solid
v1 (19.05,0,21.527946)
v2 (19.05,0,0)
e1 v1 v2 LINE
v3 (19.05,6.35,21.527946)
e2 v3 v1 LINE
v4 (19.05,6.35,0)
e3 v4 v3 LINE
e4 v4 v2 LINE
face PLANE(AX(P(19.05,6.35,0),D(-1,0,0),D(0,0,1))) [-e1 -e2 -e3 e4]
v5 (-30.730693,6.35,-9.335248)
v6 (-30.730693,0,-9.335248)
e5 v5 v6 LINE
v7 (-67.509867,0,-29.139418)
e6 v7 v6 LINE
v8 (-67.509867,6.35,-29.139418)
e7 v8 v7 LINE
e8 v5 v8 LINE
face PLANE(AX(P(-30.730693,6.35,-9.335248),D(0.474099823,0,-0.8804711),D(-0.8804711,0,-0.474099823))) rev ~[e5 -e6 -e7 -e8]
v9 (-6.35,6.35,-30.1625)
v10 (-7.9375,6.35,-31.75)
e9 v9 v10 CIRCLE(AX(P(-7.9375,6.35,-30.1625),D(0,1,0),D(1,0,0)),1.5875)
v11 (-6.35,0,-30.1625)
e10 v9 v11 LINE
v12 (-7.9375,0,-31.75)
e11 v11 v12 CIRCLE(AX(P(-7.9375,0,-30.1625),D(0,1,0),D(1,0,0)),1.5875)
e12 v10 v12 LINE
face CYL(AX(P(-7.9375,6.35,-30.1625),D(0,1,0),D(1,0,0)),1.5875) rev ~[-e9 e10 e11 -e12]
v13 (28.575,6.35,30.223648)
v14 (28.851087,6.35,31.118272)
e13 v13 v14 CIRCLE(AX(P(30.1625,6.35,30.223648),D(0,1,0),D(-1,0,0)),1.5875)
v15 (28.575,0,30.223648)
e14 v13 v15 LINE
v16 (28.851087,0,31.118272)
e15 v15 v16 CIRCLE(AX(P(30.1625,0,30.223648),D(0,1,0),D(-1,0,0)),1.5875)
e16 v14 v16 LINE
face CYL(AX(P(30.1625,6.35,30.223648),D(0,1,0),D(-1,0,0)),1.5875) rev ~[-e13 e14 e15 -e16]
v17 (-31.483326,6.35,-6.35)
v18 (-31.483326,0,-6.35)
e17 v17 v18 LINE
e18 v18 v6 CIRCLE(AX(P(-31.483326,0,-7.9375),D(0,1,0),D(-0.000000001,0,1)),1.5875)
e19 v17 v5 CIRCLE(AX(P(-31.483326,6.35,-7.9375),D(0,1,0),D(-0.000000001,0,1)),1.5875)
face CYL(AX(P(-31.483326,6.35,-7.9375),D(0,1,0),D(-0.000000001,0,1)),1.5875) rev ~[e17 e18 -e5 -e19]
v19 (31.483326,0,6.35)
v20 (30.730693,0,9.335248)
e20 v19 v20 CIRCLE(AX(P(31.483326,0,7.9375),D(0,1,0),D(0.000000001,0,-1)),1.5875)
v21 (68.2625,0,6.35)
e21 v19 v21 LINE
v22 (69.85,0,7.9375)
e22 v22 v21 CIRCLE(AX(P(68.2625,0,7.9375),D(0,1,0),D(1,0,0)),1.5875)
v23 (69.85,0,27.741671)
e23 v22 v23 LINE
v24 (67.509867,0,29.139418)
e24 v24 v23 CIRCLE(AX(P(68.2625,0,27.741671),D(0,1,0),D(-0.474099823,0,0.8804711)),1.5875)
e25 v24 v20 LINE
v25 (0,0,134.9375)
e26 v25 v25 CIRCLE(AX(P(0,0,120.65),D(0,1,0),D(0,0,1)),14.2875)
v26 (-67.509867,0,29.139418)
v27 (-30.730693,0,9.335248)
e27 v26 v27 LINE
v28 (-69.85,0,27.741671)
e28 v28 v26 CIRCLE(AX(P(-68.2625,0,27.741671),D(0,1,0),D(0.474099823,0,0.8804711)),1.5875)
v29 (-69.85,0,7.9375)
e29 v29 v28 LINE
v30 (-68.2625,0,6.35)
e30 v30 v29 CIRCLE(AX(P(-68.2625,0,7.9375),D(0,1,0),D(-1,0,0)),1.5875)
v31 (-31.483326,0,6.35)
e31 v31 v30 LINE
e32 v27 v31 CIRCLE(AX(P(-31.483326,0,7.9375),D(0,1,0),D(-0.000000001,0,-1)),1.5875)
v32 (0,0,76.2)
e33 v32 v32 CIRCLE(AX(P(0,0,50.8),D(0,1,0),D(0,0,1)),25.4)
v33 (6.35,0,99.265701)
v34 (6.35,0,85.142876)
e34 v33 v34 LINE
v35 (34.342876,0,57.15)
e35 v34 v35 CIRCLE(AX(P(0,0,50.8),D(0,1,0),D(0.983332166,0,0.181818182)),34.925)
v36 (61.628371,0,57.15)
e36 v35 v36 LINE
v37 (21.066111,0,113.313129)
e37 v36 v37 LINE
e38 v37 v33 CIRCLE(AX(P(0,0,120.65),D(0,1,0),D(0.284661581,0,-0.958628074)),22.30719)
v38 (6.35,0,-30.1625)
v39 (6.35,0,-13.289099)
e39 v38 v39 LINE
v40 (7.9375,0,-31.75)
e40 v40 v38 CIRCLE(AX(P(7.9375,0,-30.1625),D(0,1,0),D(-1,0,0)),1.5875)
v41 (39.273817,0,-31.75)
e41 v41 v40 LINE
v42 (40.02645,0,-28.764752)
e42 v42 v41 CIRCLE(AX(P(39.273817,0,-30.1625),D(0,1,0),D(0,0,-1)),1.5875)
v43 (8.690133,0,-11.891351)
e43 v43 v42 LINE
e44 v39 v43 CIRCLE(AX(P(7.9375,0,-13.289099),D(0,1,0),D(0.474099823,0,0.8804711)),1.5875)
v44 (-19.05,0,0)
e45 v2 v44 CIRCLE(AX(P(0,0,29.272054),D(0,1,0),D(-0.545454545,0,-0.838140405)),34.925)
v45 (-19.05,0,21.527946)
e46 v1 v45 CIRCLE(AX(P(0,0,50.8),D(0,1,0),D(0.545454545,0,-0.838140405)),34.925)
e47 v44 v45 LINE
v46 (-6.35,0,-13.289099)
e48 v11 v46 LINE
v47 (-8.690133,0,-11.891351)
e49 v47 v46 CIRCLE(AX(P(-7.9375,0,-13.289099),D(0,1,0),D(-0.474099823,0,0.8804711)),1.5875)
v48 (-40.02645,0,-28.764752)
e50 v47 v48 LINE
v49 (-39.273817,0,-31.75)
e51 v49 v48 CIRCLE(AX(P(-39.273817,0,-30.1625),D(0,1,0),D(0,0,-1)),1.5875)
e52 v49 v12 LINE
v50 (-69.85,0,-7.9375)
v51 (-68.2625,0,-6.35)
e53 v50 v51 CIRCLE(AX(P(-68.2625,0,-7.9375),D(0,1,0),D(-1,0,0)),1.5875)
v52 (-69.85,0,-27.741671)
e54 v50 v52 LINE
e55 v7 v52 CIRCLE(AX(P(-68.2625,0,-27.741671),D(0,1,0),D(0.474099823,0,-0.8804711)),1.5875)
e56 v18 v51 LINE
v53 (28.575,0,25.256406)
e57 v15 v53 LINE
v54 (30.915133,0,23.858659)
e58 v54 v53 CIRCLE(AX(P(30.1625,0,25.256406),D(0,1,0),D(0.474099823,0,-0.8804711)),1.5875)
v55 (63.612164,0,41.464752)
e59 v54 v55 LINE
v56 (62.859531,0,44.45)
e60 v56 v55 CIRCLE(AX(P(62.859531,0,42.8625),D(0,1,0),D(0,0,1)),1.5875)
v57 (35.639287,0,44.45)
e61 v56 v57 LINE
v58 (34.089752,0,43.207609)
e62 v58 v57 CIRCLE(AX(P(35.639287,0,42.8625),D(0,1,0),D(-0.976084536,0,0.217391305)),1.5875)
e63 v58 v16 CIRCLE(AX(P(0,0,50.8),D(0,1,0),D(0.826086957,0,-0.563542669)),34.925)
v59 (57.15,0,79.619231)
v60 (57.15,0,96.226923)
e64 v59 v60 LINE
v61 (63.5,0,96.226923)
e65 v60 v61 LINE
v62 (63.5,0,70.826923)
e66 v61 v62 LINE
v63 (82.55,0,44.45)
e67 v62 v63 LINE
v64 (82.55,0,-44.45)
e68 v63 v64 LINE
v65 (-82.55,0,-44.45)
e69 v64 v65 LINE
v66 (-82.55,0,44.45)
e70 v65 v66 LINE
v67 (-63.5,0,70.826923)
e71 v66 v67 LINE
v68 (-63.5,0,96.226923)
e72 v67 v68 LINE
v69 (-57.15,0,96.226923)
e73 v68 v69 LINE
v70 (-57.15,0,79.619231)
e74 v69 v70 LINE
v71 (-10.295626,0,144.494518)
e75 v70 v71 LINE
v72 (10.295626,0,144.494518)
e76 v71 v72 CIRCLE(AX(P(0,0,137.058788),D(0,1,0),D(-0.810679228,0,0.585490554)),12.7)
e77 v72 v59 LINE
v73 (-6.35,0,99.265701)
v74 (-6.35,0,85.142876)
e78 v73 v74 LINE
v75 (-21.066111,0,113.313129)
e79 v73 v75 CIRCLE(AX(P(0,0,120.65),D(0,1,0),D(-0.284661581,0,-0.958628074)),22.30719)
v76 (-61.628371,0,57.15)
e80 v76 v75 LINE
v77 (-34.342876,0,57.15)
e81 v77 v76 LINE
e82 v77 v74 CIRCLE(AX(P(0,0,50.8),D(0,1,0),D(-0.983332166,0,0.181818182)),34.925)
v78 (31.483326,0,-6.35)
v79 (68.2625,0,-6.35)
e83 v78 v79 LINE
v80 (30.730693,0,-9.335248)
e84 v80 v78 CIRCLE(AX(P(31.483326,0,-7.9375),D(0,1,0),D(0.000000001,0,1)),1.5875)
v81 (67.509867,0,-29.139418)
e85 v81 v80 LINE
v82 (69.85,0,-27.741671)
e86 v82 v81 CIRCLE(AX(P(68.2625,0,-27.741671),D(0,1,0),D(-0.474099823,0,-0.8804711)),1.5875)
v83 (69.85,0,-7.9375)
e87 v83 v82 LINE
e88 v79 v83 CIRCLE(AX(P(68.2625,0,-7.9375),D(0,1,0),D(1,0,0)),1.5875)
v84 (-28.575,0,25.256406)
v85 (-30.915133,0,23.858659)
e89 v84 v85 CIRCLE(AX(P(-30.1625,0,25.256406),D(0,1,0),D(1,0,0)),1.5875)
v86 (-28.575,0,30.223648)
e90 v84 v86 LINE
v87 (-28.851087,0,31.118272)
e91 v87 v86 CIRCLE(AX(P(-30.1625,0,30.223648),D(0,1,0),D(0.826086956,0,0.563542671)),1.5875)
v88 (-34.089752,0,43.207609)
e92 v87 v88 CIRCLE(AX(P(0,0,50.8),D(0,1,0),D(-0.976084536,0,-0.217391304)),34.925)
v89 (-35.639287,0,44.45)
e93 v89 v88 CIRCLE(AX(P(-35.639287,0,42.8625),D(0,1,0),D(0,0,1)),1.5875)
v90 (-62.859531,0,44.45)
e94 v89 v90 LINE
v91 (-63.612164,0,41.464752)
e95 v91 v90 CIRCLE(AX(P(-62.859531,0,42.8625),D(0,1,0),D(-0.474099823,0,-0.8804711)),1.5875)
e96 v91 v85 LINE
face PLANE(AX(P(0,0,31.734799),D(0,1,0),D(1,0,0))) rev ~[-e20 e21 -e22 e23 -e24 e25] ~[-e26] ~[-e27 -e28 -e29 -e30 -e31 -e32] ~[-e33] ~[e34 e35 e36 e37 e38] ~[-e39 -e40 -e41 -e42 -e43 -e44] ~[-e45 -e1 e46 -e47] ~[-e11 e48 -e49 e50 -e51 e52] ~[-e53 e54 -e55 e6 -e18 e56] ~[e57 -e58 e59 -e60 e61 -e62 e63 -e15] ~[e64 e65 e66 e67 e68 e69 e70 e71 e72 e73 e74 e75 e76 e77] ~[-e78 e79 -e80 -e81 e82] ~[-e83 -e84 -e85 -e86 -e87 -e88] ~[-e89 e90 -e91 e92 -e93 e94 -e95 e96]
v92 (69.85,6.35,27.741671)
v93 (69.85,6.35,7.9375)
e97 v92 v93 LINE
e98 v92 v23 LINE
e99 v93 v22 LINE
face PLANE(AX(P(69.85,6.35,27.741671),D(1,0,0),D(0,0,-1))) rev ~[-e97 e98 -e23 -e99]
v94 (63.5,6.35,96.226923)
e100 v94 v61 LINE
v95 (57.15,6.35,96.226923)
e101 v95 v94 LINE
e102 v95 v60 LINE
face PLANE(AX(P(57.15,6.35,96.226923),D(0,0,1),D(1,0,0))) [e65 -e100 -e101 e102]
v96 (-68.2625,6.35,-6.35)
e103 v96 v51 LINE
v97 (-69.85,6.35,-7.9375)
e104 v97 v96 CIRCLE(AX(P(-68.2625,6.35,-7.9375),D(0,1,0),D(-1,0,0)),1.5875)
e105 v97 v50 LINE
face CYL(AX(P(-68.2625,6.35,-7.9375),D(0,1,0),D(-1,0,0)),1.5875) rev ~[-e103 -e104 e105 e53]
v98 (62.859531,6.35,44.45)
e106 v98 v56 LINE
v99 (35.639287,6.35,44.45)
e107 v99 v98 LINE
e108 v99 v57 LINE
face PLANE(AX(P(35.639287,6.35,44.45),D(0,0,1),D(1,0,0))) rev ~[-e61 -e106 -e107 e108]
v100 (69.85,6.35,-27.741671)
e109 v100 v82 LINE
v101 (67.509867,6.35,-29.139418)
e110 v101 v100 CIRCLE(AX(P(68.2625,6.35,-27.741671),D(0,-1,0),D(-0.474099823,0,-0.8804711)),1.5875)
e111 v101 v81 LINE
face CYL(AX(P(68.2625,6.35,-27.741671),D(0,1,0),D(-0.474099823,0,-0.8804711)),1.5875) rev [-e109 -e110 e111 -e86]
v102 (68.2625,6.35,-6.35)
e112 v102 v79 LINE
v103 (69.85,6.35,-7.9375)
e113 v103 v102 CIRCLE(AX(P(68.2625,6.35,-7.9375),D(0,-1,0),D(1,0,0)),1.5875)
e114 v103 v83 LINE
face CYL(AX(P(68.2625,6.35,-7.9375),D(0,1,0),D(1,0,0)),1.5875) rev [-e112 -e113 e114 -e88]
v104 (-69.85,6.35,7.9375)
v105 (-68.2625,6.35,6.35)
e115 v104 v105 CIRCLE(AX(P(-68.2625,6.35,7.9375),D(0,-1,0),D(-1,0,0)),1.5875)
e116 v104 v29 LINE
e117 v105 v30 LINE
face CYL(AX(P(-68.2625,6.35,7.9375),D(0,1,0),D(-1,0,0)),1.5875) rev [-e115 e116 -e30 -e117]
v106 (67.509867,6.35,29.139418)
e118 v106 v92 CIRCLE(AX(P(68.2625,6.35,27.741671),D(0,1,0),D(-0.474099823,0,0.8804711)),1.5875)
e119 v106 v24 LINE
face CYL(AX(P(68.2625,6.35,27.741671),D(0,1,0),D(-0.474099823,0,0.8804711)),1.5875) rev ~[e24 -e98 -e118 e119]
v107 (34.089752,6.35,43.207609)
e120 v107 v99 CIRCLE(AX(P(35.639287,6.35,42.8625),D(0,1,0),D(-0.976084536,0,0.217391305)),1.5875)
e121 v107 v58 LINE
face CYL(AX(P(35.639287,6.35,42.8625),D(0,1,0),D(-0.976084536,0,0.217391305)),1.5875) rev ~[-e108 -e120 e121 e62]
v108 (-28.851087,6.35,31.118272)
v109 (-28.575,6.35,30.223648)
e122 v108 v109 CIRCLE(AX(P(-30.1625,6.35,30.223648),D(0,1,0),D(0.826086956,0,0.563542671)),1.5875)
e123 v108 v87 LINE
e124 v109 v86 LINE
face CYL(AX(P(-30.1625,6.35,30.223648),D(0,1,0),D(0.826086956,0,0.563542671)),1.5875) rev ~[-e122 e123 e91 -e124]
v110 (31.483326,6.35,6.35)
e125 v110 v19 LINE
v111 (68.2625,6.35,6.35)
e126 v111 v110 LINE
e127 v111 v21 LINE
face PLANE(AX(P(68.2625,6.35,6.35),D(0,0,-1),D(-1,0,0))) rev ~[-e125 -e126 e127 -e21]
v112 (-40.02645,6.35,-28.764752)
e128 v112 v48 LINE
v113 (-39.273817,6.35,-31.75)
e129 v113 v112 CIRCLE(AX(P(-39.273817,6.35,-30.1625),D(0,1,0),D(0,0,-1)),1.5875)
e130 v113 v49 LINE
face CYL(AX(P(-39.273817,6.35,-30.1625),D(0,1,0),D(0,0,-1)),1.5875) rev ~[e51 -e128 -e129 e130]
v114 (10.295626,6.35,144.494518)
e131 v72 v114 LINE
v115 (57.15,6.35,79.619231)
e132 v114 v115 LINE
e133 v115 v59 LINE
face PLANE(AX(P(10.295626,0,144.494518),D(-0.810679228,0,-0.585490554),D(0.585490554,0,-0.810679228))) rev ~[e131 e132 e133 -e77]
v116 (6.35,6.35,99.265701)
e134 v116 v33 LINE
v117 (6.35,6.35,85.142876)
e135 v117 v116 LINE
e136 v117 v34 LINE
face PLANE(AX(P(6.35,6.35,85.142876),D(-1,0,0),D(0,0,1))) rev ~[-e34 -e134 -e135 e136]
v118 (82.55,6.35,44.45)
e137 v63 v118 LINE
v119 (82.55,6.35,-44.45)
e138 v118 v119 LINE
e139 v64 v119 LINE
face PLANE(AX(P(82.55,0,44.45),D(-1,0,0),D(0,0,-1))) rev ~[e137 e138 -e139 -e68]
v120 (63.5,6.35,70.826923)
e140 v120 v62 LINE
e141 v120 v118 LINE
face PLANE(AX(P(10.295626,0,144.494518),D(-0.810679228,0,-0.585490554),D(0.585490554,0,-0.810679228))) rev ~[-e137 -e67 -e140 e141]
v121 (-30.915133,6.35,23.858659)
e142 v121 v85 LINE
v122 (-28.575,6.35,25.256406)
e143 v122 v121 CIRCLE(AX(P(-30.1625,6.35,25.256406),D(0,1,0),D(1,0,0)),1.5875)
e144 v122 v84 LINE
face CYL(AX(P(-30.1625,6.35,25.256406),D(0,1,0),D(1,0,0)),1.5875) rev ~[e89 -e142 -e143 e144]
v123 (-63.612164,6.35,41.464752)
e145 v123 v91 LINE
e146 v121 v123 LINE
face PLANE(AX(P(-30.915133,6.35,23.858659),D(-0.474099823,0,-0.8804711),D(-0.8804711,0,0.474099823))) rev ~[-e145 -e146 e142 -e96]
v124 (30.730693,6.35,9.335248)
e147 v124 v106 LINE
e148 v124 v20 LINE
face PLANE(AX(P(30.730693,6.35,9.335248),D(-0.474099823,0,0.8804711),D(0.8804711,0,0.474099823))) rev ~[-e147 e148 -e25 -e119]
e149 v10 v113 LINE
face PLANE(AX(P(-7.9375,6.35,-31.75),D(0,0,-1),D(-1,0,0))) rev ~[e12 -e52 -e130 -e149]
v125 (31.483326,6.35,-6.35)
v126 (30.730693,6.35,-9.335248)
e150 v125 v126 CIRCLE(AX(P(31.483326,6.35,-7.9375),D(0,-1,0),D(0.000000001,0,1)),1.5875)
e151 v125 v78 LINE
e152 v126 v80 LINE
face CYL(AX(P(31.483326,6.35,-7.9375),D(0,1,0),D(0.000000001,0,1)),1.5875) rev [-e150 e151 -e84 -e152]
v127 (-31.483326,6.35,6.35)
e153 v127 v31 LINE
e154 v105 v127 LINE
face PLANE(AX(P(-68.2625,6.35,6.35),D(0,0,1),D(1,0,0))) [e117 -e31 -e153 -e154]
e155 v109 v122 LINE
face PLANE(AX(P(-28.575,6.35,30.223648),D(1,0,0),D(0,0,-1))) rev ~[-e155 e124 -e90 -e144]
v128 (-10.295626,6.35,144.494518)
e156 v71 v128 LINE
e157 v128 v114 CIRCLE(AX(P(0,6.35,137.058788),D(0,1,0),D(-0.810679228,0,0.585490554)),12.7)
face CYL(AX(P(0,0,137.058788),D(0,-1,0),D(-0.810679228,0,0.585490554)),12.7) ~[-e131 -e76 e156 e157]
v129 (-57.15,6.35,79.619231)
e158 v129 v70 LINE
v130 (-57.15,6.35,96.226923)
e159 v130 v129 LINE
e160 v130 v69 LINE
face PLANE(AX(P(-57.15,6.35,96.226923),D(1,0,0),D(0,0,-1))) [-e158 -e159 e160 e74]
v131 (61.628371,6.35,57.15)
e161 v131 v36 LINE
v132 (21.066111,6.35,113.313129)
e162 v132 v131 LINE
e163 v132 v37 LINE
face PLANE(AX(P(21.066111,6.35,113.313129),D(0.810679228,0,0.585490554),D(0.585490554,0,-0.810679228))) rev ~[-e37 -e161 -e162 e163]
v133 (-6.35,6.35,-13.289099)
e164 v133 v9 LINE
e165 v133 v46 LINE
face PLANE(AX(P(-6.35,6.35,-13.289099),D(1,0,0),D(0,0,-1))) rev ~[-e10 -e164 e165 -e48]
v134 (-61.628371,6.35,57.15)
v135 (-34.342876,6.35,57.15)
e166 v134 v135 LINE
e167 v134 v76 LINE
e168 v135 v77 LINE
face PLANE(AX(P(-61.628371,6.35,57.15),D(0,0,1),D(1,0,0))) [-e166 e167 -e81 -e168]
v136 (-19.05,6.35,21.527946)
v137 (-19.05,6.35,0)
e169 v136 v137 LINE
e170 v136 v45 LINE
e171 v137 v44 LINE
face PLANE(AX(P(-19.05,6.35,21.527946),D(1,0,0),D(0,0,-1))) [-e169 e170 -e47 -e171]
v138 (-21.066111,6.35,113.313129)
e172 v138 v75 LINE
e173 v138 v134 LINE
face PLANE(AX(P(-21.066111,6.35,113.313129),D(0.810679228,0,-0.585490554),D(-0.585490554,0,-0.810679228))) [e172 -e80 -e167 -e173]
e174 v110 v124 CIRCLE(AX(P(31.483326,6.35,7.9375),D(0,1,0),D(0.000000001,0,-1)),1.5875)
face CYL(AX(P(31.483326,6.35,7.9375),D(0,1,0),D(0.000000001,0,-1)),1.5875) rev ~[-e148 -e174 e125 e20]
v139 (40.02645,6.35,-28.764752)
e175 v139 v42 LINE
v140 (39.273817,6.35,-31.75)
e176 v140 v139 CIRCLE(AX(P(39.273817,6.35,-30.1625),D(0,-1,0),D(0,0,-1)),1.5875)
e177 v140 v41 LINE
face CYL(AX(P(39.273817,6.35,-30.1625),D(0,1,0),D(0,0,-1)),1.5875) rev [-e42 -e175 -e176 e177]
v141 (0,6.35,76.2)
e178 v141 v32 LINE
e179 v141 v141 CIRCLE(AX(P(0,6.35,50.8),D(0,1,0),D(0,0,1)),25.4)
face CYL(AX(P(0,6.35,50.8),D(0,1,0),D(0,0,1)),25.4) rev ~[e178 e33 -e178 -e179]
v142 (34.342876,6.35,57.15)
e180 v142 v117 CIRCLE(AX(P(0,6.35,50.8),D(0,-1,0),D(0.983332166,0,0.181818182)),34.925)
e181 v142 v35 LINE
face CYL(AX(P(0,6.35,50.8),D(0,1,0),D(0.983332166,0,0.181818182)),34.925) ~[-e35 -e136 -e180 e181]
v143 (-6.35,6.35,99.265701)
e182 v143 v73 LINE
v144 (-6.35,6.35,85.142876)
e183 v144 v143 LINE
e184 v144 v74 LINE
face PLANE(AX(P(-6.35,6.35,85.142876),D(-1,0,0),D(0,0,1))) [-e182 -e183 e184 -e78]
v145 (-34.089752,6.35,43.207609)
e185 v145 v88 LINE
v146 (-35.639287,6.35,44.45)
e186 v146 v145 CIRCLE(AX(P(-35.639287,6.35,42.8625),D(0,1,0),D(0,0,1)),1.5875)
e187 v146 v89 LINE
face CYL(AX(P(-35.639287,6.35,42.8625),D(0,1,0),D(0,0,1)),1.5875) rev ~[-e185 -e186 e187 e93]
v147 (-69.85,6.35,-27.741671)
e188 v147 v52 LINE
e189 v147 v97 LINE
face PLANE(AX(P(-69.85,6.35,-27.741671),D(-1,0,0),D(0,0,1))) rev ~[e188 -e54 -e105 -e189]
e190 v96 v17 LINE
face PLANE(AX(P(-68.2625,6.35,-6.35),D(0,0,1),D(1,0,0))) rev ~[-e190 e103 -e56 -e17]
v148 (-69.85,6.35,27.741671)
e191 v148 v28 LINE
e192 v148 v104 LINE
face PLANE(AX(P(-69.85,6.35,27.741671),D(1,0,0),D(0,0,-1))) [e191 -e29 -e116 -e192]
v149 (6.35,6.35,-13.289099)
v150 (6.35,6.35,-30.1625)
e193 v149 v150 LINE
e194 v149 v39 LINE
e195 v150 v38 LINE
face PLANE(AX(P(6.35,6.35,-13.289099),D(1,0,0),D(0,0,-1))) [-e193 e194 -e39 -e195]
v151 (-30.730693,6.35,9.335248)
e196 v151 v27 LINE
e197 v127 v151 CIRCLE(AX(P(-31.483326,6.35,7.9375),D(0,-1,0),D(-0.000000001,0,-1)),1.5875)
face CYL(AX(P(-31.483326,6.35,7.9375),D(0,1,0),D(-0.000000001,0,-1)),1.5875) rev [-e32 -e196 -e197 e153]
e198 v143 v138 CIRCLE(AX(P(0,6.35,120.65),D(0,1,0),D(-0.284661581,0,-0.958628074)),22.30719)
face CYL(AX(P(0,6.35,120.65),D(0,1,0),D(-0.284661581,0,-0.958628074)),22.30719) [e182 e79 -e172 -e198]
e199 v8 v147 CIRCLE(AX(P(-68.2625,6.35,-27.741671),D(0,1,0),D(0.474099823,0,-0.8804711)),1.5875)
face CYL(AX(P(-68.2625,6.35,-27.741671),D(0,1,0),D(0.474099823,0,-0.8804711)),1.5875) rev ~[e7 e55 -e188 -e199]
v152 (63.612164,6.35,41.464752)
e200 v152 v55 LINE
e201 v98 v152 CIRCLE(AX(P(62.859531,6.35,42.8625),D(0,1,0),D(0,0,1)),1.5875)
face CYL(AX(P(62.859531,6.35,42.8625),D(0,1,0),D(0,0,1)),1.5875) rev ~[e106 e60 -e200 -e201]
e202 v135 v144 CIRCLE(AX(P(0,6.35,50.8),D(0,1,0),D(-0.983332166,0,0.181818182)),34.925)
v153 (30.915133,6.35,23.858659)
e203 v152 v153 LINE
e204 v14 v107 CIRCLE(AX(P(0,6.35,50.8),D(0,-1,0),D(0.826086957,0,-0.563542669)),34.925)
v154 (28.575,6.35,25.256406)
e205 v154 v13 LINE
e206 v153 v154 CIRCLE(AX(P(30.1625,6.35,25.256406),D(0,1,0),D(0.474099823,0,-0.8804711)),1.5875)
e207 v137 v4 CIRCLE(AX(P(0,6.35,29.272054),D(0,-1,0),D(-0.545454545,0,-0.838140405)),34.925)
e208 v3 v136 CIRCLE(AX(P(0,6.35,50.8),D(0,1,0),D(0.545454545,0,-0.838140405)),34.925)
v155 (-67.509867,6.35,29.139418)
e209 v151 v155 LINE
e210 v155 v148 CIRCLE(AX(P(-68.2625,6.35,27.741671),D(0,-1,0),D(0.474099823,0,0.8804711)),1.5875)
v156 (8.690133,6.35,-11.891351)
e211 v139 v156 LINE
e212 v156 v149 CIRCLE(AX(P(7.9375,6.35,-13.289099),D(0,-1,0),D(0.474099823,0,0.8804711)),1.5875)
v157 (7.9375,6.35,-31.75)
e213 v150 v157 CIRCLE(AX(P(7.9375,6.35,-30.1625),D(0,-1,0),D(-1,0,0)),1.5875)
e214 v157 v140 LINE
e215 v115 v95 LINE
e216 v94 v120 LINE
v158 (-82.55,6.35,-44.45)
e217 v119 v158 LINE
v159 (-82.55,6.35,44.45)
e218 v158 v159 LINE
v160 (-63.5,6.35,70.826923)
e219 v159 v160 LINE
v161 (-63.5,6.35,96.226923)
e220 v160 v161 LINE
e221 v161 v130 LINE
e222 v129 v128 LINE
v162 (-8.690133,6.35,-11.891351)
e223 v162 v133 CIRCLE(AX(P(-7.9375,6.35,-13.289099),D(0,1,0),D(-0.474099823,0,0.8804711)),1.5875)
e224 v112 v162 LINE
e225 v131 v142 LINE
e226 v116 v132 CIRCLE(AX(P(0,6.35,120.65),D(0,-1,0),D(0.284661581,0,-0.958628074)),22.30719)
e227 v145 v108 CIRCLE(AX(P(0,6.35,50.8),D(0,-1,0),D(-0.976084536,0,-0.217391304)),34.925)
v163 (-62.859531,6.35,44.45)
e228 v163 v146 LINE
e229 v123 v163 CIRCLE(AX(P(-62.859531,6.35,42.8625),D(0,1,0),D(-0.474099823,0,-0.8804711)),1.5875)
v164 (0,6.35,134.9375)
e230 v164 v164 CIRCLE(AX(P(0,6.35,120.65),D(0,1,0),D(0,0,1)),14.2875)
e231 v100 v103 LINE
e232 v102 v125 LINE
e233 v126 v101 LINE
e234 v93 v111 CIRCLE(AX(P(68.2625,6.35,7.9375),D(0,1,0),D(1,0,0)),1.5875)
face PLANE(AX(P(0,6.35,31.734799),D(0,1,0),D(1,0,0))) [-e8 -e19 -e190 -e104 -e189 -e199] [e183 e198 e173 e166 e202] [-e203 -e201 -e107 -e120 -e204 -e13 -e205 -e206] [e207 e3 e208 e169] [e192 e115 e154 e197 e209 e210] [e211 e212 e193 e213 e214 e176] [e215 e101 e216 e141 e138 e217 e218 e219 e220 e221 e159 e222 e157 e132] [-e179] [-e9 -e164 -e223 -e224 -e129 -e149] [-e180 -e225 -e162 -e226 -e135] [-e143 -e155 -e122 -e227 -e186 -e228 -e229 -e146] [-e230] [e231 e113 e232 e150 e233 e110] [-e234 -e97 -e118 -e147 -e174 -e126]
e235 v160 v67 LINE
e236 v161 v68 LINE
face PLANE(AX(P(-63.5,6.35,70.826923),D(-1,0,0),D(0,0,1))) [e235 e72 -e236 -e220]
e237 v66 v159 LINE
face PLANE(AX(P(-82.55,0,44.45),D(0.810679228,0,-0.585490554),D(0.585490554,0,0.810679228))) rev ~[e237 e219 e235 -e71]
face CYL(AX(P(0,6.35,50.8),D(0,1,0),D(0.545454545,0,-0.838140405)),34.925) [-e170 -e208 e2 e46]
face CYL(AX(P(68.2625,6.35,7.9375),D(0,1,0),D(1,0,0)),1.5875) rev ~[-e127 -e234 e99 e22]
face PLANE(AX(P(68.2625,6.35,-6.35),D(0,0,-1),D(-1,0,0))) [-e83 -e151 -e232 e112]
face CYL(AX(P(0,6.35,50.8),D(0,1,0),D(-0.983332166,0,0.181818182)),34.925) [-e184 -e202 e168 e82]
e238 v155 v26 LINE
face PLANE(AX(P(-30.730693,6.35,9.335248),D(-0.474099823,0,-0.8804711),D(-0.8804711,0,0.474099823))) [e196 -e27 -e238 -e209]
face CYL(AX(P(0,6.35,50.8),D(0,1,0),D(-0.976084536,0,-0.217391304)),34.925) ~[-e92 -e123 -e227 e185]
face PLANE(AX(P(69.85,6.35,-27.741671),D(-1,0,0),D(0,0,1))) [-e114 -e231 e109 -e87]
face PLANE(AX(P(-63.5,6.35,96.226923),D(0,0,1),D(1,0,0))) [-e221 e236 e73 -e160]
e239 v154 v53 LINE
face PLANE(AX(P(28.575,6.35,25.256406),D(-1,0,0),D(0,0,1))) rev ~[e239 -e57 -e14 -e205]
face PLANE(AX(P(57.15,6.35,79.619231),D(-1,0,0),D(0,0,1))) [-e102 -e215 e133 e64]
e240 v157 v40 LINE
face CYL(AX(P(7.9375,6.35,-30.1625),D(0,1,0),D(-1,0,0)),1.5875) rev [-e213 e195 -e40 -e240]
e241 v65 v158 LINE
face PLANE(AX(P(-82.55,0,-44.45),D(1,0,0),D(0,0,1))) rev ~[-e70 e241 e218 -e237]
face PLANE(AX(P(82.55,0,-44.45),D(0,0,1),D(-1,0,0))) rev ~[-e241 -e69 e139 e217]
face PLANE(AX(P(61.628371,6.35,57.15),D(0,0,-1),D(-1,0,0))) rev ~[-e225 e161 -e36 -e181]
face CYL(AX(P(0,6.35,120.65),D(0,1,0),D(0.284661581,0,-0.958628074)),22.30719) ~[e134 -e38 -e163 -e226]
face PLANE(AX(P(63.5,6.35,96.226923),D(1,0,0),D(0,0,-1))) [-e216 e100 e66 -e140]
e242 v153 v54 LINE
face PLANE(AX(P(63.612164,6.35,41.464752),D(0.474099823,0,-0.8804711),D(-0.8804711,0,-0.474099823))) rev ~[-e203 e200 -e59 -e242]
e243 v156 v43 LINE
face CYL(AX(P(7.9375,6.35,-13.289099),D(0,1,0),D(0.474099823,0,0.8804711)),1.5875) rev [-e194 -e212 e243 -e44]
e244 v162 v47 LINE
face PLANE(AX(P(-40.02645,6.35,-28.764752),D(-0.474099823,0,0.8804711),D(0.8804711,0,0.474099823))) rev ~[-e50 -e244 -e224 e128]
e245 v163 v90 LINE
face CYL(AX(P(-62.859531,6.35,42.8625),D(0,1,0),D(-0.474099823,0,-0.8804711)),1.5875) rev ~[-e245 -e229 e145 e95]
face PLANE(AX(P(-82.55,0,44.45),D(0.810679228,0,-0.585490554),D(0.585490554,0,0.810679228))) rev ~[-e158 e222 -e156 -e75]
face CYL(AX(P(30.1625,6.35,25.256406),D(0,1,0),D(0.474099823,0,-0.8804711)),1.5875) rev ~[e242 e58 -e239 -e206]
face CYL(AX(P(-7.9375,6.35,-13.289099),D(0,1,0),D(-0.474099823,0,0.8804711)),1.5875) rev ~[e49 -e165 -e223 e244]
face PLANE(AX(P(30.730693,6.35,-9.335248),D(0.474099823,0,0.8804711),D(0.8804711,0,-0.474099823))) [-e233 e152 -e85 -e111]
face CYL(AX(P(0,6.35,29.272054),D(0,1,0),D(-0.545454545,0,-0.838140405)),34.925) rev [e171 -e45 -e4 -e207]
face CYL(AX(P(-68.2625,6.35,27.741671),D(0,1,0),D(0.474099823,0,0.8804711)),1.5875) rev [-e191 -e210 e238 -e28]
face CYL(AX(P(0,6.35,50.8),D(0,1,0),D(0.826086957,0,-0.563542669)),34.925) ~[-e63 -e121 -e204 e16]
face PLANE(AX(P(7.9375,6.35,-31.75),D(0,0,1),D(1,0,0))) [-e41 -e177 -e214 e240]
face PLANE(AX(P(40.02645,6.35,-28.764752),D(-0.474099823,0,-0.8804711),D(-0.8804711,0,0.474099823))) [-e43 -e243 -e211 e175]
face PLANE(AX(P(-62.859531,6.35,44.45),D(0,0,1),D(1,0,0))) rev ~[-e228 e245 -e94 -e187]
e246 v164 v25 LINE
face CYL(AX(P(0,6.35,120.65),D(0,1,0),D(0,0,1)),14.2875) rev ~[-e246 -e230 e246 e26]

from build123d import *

# Parameters (mm, degrees)
BOSS_EXTRUDE1_DEPTH = 6.35
BOSS_EXTRUDE2_DEPTH = 6.35
CUT_EXTRUDE2_REACH  = 173.121
SKETCH3_R           = 25.4
SKETCH3_R_2         = 14.2875


with BuildPart() as part:
    # Sketch1 → Boss-Extrude1 (new body)
    with BuildSketch(Plane(origin=(0, 0, 0), x_dir=(1, 0, 0), z_dir=(0, 1, 0))):
        with BuildLine():
            Line((-82.55, -44.45), (-10.295626201, -144.494517568))
            ThreePointArc((-10.295626201, -144.494517568), (0, -149.758787534), (10.295626201, -144.494517568))
            Line((10.295626201, -144.494517568), (82.55, -44.45))
            Line((82.55, -44.45), (82.55, 44.45))
            Line((82.55, 44.45), (-82.55, 44.45))
            Line((-82.55, 44.45), (-82.55, -44.45))
        make_face()
    extrude(amount=BOSS_EXTRUDE1_DEPTH)

    # Sketch4 → Boss-Extrude2 (add)
    with BuildSketch(Plane(origin=(0, 6.35, 0), x_dir=(1, 0, 0), z_dir=(0, 1, 0))):
        Polygon((-63.5, -70.826923077), (-63.5, -96.226923077), (-57.15, -96.226923077), (-57.15, -79.619230769), align=None)
        Polygon((57.15, -96.226923077), (63.5, -96.226923077), (63.5, -70.826923077), (57.15, -79.619230769), align=None)
    extrude(amount=-BOSS_EXTRUDE2_DEPTH)

    # Sketch3 → Cut-Extrude2 (cut, up to next)
    with BuildSketch(Plane(origin=(0, 6.35, 0), x_dir=(1, 0, 0), z_dir=(0, 1, 0)), mode=Mode.PRIVATE) as cut_extrude2_sk1:
        with Locations(Location((0, -50.8, 0), (0, 0, 270))):
            Circle(SKETCH3_R)
    cut_extrude2_tool1 = extrude(cut_extrude2_sk1.sketch, amount=-CUT_EXTRUDE2_REACH, mode=Mode.PRIVATE) & part.part
    # Sketch3 → Cut-Extrude2 (cut, up to next)
    with BuildSketch(Plane(origin=(0, 6.35, 0), x_dir=(1, 0, 0), z_dir=(0, 1, 0)), mode=Mode.PRIVATE) as cut_extrude2_sk2:
        with Locations(Location((0, -120.65, 0), (0, 0, 270))):
            Circle(SKETCH3_R_2)
    cut_extrude2_tool2 = extrude(cut_extrude2_sk2.sketch, amount=-CUT_EXTRUDE2_REACH, mode=Mode.PRIVATE) & part.part
    # Sketch3 → Cut-Extrude2 (cut, up to next)
    with BuildSketch(Plane(origin=(0, 6.35, 0), x_dir=(1, 0, 0), z_dir=(0, 1, 0)), mode=Mode.PRIVATE) as cut_extrude2_sk3:
        with BuildLine():
            Line((-40.026450178, 28.764752129), (-8.690133469, 11.891350824))
            ThreePointArc((-8.690133469, 11.891350824), (-7.123451286, 11.92620437), (-6.35, 13.289098695))
            Line((-6.35, 13.289098695), (-6.35, 30.1625))
            ThreePointArc((-6.35, 30.1625), (-6.814967985, 31.285032015), (-7.9375, 31.75))
            Line((-7.9375, 31.75), (-39.273816708, 31.75))
            ThreePointArc((-39.273816708, 31.75), (-40.813147894, 30.550592453), (-40.026450178, 28.764752129))
        make_face()
    cut_extrude2_tool3 = extrude(cut_extrude2_sk3.sketch, amount=-CUT_EXTRUDE2_REACH, mode=Mode.PRIVATE) & part.part
    # Sketch3 → Cut-Extrude2 (cut, up to next)
    with BuildSketch(Plane(origin=(0, 6.35, 0), x_dir=(1, 0, 0), z_dir=(0, 1, 0)), mode=Mode.PRIVATE) as cut_extrude2_sk4:
        with BuildLine():
            Line((-69.85, 27.741670535), (-69.85, 7.9375))
            ThreePointArc((-69.85, 7.9375), (-69.385032015, 6.814967985), (-68.2625, 6.35))
            Line((-68.2625, 6.35), (-31.483326149, 6.35))
            ThreePointArc((-31.483326149, 6.35), (-29.943994963, 7.549407547), (-30.73069268, 9.335247871))
            Line((-30.73069268, 9.335247871), (-67.509866531, 29.139418406))
            ThreePointArc((-67.509866531, 29.139418406), (-69.076548714, 29.10456486), (-69.85, 27.741670535))
        make_face()
    cut_extrude2_tool4 = extrude(cut_extrude2_sk4.sketch, amount=-CUT_EXTRUDE2_REACH, mode=Mode.PRIVATE) & part.part
    # Sketch3 → Cut-Extrude2 (cut, up to next)
    with BuildSketch(Plane(origin=(0, 6.35, 0), x_dir=(1, 0, 0), z_dir=(0, 1, 0)), mode=Mode.PRIVATE) as cut_extrude2_sk5:
        with BuildLine():
            Line((7.9375, 31.75), (39.273816708, 31.75))
            ThreePointArc((39.273816708, 31.75), (40.813147894, 30.550592453), (40.026450178, 28.764752129))
            Line((40.026450178, 28.764752129), (8.690133469, 11.891350824))
            ThreePointArc((8.690133469, 11.891350824), (7.123451286, 11.92620437), (6.35, 13.289098695))
            Line((6.35, 13.289098695), (6.35, 30.1625))
            ThreePointArc((6.35, 30.1625), (6.814967985, 31.285032015), (7.9375, 31.75))
        make_face()
    cut_extrude2_tool5 = extrude(cut_extrude2_sk5.sketch, amount=-CUT_EXTRUDE2_REACH, mode=Mode.PRIVATE) & part.part
    # Sketch3 → Cut-Extrude2 (cut, up to next)
    with BuildSketch(Plane(origin=(0, 6.35, 0), x_dir=(1, 0, 0), z_dir=(0, 1, 0)), mode=Mode.PRIVATE) as cut_extrude2_sk6:
        with BuildLine():
            Line((30.73069268, 9.335247871), (67.509866531, 29.139418406))
            ThreePointArc((67.509866531, 29.139418406), (69.076548714, 29.10456486), (69.85, 27.741670535))
            Line((69.85, 27.741670535), (69.85, 7.9375))
            ThreePointArc((69.85, 7.9375), (69.385032015, 6.814967985), (68.2625, 6.35))
            Line((68.2625, 6.35), (31.483326149, 6.35))
            ThreePointArc((31.483326149, 6.35), (29.943994963, 7.549407547), (30.73069268, 9.335247871))
        make_face()
    cut_extrude2_tool6 = extrude(cut_extrude2_sk6.sketch, amount=-CUT_EXTRUDE2_REACH, mode=Mode.PRIVATE) & part.part
    # Sketch3 → Cut-Extrude2 (cut, up to next)
    with BuildSketch(Plane(origin=(0, 6.35, 0), x_dir=(1, 0, 0), z_dir=(0, 1, 0)), mode=Mode.PRIVATE) as cut_extrude2_sk7:
        with BuildLine():
            Line((69.85, -27.741670535), (69.85, -7.9375))
            ThreePointArc((69.85, -7.9375), (69.385032015, -6.814967985), (68.2625, -6.35))
            Line((68.2625, -6.35), (31.483326149, -6.35))
            ThreePointArc((31.483326149, -6.35), (29.943994963, -7.549407547), (30.73069268, -9.335247871))
            Line((30.73069268, -9.335247871), (67.509866531, -29.139418406))
            ThreePointArc((67.509866531, -29.139418406), (69.076548714, -29.10456486), (69.85, -27.741670535))
        make_face()
    cut_extrude2_tool7 = extrude(cut_extrude2_sk7.sketch, amount=-CUT_EXTRUDE2_REACH, mode=Mode.PRIVATE) & part.part
    # Sketch3 → Cut-Extrude2 (cut, up to next)
    with BuildSketch(Plane(origin=(0, 6.35, 0), x_dir=(1, 0, 0), z_dir=(0, 1, 0)), mode=Mode.PRIVATE) as cut_extrude2_sk8:
        with BuildLine():
            Line((-30.73069268, -9.335247871), (-67.509866531, -29.139418406))
            ThreePointArc((-67.509866531, -29.139418406), (-69.076548714, -29.10456486), (-69.85, -27.741670535))
            Line((-69.85, -27.741670535), (-69.85, -7.9375))
            ThreePointArc((-69.85, -7.9375), (-69.385032015, -6.814967985), (-68.2625, -6.35))
            Line((-68.2625, -6.35), (-31.483326149, -6.35))
            ThreePointArc((-31.483326149, -6.35), (-29.943994963, -7.549407547), (-30.73069268, -9.335247871))
        make_face()
    cut_extrude2_tool8 = extrude(cut_extrude2_sk8.sketch, amount=-CUT_EXTRUDE2_REACH, mode=Mode.PRIVATE) & part.part
    # Sketch3 → Cut-Extrude2 (cut, up to next)
    with BuildSketch(Plane(origin=(0, 6.35, 0), x_dir=(1, 0, 0), z_dir=(0, 1, 0)), mode=Mode.PRIVATE) as cut_extrude2_sk9:
        with BuildLine():
            Line((-6.35, -85.142875899), (-6.35, -99.265701316))
            ThreePointArc((-6.35, -99.265701316), (-15.402705776, -104.514096399), (-21.066111407, -113.313128703))
            Line((-21.066111407, -113.313128703), (-61.628371026, -57.15))
            Line((-61.628371026, -57.15), (-34.342875899, -57.15))
            ThreePointArc((-34.342875899, -57.15), (-24.695704333, -75.495704333), (-6.35, -85.142875899))
        make_face()
    cut_extrude2_tool9 = extrude(cut_extrude2_sk9.sketch, amount=-CUT_EXTRUDE2_REACH, mode=Mode.PRIVATE) & part.part
    # Sketch3 → Cut-Extrude2 (cut, up to next)
    with BuildSketch(Plane(origin=(0, 6.35, 0), x_dir=(1, 0, 0), z_dir=(0, 1, 0)), mode=Mode.PRIVATE) as cut_extrude2_sk10:
        with BuildLine():
            Line((6.35, -85.142875899), (6.35, -99.265701316))
            ThreePointArc((6.35, -99.265701316), (15.402705776, -104.514096399), (21.066111407, -113.313128703))
            Line((21.066111407, -113.313128703), (61.628371026, -57.15))
            Line((61.628371026, -57.15), (34.342875899, -57.15))
            ThreePointArc((34.342875899, -57.15), (24.695704333, -75.495704333), (6.35, -85.142875899))
        make_face()
    cut_extrude2_tool10 = extrude(cut_extrude2_sk10.sketch, amount=-CUT_EXTRUDE2_REACH, mode=Mode.PRIVATE) & part.part
    # Sketch3 → Cut-Extrude2 (cut, up to next)
    with BuildSketch(Plane(origin=(0, 6.35, 0), x_dir=(1, 0, 0), z_dir=(0, 1, 0)), mode=Mode.PRIVATE) as cut_extrude2_sk11:
        with BuildLine():
            Line((-19.05, -21.527946348), (-19.05, 0))
            ThreePointArc((-19.05, 0), (0, 5.652946348), (19.05, 0))
            Line((19.05, 0), (19.05, -21.527946348))
            ThreePointArc((19.05, -21.527946348), (0, -15.875), (-19.05, -21.527946348))
        make_face()
    cut_extrude2_tool11 = extrude(cut_extrude2_sk11.sketch, amount=-CUT_EXTRUDE2_REACH, mode=Mode.PRIVATE) & part.part
    # Sketch3 → Cut-Extrude2 (cut, up to next)
    with BuildSketch(Plane(origin=(0, 6.35, 0), x_dir=(1, 0, 0), z_dir=(0, 1, 0)), mode=Mode.PRIVATE) as cut_extrude2_sk12:
        with BuildLine():
            Line((-62.859530994, -44.45), (-35.639286609, -44.45))
            ThreePointArc((-35.639286609, -44.45), (-34.646236712, -44.101050827), (-34.089752409, -43.207608696))
            ThreePointArc((-34.089752409, -43.207608696), (-32.045675665, -36.913665127), (-28.851086957, -31.11827227))
            ThreePointArc((-28.851086957, -31.11827227), (-28.645591226, -30.691776493), (-28.575, -30.223648283))
            Line((-28.575, -30.223648283), (-28.575, -25.256406388))
            ThreePointArc((-28.575, -25.256406388), (-29.348451286, -23.893512063), (-30.915133469, -23.858658517))
            Line((-30.915133469, -23.858658517), (-63.612164463, -41.464752129))
            ThreePointArc((-63.612164463, -41.464752129), (-64.398862179, -43.250592453), (-62.859530994, -44.45))
        make_face()
    cut_extrude2_tool12 = extrude(cut_extrude2_sk12.sketch, amount=-CUT_EXTRUDE2_REACH, mode=Mode.PRIVATE) & part.part
    # Sketch3 → Cut-Extrude2 (cut, up to next)
    with BuildSketch(Plane(origin=(0, 6.35, 0), x_dir=(1, 0, 0), z_dir=(0, 1, 0)), mode=Mode.PRIVATE) as cut_extrude2_sk13:
        with BuildLine():
            Line((28.575, -25.256406388), (28.575, -30.223648283))
            ThreePointArc((28.575, -30.223648283), (28.645591226, -30.691776493), (28.851086957, -31.11827227))
            ThreePointArc((28.851086957, -31.11827227), (32.045675665, -36.913665127), (34.089752409, -43.207608696))
            ThreePointArc((34.089752409, -43.207608696), (34.646236712, -44.101050827), (35.639286609, -44.45))
            Line((35.639286609, -44.45), (62.859530994, -44.45))
            ThreePointArc((62.859530994, -44.45), (64.398862179, -43.250592453), (63.612164463, -41.464752129))
            Line((63.612164463, -41.464752129), (30.915133469, -23.858658517))
            ThreePointArc((30.915133469, -23.858658517), (29.348451286, -23.893512063), (28.575, -25.256406388))
        make_face()
    cut_extrude2_tool13 = extrude(cut_extrude2_sk13.sketch, amount=-CUT_EXTRUDE2_REACH, mode=Mode.PRIVATE) & part.part
    add(cut_extrude2_tool1.solids().sort_by_distance((0, 6.35, 50.8))[0], mode=Mode.SUBTRACT)
    add(cut_extrude2_tool2.solids().sort_by_distance((0, 6.35, 120.65))[0], mode=Mode.SUBTRACT)
    add(cut_extrude2_tool3.solids().sort_by_distance((-19.115543, 6.35, -24.652033))[0], mode=Mode.SUBTRACT)
    add(cut_extrude2_tool4.solids().sort_by_distance((-55.236845, 6.35, -14.418636))[0], mode=Mode.SUBTRACT)
    add(cut_extrude2_tool5.solids().sort_by_distance((19.115543, 6.35, -24.652033))[0], mode=Mode.SUBTRACT)
    add(cut_extrude2_tool6.solids().sort_by_distance((55.236845, 6.35, -14.418636))[0], mode=Mode.SUBTRACT)
    add(cut_extrude2_tool7.solids().sort_by_distance((55.236845, 6.35, 14.418636))[0], mode=Mode.SUBTRACT)
    add(cut_extrude2_tool8.solids().sort_by_distance((-55.236845, 6.35, 14.418636))[0], mode=Mode.SUBTRACT)
    add(cut_extrude2_tool9.solids().sort_by_distance((-30.896348, 6.35, 81.78683))[0], mode=Mode.SUBTRACT)
    add(cut_extrude2_tool10.solids().sort_by_distance((30.896348, 6.35, 81.78683))[0], mode=Mode.SUBTRACT)
    add(cut_extrude2_tool11.solids().sort_by_distance((0, 6.35, 6.929783))[0], mode=Mode.SUBTRACT)
    add(cut_extrude2_tool12.solids().sort_by_distance((-43.155831, 6.35, 36.82378))[0], mode=Mode.SUBTRACT)
    add(cut_extrude2_tool13.solids().sort_by_distance((43.155831, 6.35, 36.82378))[0], mode=Mode.SUBTRACT)


solid = part.part
